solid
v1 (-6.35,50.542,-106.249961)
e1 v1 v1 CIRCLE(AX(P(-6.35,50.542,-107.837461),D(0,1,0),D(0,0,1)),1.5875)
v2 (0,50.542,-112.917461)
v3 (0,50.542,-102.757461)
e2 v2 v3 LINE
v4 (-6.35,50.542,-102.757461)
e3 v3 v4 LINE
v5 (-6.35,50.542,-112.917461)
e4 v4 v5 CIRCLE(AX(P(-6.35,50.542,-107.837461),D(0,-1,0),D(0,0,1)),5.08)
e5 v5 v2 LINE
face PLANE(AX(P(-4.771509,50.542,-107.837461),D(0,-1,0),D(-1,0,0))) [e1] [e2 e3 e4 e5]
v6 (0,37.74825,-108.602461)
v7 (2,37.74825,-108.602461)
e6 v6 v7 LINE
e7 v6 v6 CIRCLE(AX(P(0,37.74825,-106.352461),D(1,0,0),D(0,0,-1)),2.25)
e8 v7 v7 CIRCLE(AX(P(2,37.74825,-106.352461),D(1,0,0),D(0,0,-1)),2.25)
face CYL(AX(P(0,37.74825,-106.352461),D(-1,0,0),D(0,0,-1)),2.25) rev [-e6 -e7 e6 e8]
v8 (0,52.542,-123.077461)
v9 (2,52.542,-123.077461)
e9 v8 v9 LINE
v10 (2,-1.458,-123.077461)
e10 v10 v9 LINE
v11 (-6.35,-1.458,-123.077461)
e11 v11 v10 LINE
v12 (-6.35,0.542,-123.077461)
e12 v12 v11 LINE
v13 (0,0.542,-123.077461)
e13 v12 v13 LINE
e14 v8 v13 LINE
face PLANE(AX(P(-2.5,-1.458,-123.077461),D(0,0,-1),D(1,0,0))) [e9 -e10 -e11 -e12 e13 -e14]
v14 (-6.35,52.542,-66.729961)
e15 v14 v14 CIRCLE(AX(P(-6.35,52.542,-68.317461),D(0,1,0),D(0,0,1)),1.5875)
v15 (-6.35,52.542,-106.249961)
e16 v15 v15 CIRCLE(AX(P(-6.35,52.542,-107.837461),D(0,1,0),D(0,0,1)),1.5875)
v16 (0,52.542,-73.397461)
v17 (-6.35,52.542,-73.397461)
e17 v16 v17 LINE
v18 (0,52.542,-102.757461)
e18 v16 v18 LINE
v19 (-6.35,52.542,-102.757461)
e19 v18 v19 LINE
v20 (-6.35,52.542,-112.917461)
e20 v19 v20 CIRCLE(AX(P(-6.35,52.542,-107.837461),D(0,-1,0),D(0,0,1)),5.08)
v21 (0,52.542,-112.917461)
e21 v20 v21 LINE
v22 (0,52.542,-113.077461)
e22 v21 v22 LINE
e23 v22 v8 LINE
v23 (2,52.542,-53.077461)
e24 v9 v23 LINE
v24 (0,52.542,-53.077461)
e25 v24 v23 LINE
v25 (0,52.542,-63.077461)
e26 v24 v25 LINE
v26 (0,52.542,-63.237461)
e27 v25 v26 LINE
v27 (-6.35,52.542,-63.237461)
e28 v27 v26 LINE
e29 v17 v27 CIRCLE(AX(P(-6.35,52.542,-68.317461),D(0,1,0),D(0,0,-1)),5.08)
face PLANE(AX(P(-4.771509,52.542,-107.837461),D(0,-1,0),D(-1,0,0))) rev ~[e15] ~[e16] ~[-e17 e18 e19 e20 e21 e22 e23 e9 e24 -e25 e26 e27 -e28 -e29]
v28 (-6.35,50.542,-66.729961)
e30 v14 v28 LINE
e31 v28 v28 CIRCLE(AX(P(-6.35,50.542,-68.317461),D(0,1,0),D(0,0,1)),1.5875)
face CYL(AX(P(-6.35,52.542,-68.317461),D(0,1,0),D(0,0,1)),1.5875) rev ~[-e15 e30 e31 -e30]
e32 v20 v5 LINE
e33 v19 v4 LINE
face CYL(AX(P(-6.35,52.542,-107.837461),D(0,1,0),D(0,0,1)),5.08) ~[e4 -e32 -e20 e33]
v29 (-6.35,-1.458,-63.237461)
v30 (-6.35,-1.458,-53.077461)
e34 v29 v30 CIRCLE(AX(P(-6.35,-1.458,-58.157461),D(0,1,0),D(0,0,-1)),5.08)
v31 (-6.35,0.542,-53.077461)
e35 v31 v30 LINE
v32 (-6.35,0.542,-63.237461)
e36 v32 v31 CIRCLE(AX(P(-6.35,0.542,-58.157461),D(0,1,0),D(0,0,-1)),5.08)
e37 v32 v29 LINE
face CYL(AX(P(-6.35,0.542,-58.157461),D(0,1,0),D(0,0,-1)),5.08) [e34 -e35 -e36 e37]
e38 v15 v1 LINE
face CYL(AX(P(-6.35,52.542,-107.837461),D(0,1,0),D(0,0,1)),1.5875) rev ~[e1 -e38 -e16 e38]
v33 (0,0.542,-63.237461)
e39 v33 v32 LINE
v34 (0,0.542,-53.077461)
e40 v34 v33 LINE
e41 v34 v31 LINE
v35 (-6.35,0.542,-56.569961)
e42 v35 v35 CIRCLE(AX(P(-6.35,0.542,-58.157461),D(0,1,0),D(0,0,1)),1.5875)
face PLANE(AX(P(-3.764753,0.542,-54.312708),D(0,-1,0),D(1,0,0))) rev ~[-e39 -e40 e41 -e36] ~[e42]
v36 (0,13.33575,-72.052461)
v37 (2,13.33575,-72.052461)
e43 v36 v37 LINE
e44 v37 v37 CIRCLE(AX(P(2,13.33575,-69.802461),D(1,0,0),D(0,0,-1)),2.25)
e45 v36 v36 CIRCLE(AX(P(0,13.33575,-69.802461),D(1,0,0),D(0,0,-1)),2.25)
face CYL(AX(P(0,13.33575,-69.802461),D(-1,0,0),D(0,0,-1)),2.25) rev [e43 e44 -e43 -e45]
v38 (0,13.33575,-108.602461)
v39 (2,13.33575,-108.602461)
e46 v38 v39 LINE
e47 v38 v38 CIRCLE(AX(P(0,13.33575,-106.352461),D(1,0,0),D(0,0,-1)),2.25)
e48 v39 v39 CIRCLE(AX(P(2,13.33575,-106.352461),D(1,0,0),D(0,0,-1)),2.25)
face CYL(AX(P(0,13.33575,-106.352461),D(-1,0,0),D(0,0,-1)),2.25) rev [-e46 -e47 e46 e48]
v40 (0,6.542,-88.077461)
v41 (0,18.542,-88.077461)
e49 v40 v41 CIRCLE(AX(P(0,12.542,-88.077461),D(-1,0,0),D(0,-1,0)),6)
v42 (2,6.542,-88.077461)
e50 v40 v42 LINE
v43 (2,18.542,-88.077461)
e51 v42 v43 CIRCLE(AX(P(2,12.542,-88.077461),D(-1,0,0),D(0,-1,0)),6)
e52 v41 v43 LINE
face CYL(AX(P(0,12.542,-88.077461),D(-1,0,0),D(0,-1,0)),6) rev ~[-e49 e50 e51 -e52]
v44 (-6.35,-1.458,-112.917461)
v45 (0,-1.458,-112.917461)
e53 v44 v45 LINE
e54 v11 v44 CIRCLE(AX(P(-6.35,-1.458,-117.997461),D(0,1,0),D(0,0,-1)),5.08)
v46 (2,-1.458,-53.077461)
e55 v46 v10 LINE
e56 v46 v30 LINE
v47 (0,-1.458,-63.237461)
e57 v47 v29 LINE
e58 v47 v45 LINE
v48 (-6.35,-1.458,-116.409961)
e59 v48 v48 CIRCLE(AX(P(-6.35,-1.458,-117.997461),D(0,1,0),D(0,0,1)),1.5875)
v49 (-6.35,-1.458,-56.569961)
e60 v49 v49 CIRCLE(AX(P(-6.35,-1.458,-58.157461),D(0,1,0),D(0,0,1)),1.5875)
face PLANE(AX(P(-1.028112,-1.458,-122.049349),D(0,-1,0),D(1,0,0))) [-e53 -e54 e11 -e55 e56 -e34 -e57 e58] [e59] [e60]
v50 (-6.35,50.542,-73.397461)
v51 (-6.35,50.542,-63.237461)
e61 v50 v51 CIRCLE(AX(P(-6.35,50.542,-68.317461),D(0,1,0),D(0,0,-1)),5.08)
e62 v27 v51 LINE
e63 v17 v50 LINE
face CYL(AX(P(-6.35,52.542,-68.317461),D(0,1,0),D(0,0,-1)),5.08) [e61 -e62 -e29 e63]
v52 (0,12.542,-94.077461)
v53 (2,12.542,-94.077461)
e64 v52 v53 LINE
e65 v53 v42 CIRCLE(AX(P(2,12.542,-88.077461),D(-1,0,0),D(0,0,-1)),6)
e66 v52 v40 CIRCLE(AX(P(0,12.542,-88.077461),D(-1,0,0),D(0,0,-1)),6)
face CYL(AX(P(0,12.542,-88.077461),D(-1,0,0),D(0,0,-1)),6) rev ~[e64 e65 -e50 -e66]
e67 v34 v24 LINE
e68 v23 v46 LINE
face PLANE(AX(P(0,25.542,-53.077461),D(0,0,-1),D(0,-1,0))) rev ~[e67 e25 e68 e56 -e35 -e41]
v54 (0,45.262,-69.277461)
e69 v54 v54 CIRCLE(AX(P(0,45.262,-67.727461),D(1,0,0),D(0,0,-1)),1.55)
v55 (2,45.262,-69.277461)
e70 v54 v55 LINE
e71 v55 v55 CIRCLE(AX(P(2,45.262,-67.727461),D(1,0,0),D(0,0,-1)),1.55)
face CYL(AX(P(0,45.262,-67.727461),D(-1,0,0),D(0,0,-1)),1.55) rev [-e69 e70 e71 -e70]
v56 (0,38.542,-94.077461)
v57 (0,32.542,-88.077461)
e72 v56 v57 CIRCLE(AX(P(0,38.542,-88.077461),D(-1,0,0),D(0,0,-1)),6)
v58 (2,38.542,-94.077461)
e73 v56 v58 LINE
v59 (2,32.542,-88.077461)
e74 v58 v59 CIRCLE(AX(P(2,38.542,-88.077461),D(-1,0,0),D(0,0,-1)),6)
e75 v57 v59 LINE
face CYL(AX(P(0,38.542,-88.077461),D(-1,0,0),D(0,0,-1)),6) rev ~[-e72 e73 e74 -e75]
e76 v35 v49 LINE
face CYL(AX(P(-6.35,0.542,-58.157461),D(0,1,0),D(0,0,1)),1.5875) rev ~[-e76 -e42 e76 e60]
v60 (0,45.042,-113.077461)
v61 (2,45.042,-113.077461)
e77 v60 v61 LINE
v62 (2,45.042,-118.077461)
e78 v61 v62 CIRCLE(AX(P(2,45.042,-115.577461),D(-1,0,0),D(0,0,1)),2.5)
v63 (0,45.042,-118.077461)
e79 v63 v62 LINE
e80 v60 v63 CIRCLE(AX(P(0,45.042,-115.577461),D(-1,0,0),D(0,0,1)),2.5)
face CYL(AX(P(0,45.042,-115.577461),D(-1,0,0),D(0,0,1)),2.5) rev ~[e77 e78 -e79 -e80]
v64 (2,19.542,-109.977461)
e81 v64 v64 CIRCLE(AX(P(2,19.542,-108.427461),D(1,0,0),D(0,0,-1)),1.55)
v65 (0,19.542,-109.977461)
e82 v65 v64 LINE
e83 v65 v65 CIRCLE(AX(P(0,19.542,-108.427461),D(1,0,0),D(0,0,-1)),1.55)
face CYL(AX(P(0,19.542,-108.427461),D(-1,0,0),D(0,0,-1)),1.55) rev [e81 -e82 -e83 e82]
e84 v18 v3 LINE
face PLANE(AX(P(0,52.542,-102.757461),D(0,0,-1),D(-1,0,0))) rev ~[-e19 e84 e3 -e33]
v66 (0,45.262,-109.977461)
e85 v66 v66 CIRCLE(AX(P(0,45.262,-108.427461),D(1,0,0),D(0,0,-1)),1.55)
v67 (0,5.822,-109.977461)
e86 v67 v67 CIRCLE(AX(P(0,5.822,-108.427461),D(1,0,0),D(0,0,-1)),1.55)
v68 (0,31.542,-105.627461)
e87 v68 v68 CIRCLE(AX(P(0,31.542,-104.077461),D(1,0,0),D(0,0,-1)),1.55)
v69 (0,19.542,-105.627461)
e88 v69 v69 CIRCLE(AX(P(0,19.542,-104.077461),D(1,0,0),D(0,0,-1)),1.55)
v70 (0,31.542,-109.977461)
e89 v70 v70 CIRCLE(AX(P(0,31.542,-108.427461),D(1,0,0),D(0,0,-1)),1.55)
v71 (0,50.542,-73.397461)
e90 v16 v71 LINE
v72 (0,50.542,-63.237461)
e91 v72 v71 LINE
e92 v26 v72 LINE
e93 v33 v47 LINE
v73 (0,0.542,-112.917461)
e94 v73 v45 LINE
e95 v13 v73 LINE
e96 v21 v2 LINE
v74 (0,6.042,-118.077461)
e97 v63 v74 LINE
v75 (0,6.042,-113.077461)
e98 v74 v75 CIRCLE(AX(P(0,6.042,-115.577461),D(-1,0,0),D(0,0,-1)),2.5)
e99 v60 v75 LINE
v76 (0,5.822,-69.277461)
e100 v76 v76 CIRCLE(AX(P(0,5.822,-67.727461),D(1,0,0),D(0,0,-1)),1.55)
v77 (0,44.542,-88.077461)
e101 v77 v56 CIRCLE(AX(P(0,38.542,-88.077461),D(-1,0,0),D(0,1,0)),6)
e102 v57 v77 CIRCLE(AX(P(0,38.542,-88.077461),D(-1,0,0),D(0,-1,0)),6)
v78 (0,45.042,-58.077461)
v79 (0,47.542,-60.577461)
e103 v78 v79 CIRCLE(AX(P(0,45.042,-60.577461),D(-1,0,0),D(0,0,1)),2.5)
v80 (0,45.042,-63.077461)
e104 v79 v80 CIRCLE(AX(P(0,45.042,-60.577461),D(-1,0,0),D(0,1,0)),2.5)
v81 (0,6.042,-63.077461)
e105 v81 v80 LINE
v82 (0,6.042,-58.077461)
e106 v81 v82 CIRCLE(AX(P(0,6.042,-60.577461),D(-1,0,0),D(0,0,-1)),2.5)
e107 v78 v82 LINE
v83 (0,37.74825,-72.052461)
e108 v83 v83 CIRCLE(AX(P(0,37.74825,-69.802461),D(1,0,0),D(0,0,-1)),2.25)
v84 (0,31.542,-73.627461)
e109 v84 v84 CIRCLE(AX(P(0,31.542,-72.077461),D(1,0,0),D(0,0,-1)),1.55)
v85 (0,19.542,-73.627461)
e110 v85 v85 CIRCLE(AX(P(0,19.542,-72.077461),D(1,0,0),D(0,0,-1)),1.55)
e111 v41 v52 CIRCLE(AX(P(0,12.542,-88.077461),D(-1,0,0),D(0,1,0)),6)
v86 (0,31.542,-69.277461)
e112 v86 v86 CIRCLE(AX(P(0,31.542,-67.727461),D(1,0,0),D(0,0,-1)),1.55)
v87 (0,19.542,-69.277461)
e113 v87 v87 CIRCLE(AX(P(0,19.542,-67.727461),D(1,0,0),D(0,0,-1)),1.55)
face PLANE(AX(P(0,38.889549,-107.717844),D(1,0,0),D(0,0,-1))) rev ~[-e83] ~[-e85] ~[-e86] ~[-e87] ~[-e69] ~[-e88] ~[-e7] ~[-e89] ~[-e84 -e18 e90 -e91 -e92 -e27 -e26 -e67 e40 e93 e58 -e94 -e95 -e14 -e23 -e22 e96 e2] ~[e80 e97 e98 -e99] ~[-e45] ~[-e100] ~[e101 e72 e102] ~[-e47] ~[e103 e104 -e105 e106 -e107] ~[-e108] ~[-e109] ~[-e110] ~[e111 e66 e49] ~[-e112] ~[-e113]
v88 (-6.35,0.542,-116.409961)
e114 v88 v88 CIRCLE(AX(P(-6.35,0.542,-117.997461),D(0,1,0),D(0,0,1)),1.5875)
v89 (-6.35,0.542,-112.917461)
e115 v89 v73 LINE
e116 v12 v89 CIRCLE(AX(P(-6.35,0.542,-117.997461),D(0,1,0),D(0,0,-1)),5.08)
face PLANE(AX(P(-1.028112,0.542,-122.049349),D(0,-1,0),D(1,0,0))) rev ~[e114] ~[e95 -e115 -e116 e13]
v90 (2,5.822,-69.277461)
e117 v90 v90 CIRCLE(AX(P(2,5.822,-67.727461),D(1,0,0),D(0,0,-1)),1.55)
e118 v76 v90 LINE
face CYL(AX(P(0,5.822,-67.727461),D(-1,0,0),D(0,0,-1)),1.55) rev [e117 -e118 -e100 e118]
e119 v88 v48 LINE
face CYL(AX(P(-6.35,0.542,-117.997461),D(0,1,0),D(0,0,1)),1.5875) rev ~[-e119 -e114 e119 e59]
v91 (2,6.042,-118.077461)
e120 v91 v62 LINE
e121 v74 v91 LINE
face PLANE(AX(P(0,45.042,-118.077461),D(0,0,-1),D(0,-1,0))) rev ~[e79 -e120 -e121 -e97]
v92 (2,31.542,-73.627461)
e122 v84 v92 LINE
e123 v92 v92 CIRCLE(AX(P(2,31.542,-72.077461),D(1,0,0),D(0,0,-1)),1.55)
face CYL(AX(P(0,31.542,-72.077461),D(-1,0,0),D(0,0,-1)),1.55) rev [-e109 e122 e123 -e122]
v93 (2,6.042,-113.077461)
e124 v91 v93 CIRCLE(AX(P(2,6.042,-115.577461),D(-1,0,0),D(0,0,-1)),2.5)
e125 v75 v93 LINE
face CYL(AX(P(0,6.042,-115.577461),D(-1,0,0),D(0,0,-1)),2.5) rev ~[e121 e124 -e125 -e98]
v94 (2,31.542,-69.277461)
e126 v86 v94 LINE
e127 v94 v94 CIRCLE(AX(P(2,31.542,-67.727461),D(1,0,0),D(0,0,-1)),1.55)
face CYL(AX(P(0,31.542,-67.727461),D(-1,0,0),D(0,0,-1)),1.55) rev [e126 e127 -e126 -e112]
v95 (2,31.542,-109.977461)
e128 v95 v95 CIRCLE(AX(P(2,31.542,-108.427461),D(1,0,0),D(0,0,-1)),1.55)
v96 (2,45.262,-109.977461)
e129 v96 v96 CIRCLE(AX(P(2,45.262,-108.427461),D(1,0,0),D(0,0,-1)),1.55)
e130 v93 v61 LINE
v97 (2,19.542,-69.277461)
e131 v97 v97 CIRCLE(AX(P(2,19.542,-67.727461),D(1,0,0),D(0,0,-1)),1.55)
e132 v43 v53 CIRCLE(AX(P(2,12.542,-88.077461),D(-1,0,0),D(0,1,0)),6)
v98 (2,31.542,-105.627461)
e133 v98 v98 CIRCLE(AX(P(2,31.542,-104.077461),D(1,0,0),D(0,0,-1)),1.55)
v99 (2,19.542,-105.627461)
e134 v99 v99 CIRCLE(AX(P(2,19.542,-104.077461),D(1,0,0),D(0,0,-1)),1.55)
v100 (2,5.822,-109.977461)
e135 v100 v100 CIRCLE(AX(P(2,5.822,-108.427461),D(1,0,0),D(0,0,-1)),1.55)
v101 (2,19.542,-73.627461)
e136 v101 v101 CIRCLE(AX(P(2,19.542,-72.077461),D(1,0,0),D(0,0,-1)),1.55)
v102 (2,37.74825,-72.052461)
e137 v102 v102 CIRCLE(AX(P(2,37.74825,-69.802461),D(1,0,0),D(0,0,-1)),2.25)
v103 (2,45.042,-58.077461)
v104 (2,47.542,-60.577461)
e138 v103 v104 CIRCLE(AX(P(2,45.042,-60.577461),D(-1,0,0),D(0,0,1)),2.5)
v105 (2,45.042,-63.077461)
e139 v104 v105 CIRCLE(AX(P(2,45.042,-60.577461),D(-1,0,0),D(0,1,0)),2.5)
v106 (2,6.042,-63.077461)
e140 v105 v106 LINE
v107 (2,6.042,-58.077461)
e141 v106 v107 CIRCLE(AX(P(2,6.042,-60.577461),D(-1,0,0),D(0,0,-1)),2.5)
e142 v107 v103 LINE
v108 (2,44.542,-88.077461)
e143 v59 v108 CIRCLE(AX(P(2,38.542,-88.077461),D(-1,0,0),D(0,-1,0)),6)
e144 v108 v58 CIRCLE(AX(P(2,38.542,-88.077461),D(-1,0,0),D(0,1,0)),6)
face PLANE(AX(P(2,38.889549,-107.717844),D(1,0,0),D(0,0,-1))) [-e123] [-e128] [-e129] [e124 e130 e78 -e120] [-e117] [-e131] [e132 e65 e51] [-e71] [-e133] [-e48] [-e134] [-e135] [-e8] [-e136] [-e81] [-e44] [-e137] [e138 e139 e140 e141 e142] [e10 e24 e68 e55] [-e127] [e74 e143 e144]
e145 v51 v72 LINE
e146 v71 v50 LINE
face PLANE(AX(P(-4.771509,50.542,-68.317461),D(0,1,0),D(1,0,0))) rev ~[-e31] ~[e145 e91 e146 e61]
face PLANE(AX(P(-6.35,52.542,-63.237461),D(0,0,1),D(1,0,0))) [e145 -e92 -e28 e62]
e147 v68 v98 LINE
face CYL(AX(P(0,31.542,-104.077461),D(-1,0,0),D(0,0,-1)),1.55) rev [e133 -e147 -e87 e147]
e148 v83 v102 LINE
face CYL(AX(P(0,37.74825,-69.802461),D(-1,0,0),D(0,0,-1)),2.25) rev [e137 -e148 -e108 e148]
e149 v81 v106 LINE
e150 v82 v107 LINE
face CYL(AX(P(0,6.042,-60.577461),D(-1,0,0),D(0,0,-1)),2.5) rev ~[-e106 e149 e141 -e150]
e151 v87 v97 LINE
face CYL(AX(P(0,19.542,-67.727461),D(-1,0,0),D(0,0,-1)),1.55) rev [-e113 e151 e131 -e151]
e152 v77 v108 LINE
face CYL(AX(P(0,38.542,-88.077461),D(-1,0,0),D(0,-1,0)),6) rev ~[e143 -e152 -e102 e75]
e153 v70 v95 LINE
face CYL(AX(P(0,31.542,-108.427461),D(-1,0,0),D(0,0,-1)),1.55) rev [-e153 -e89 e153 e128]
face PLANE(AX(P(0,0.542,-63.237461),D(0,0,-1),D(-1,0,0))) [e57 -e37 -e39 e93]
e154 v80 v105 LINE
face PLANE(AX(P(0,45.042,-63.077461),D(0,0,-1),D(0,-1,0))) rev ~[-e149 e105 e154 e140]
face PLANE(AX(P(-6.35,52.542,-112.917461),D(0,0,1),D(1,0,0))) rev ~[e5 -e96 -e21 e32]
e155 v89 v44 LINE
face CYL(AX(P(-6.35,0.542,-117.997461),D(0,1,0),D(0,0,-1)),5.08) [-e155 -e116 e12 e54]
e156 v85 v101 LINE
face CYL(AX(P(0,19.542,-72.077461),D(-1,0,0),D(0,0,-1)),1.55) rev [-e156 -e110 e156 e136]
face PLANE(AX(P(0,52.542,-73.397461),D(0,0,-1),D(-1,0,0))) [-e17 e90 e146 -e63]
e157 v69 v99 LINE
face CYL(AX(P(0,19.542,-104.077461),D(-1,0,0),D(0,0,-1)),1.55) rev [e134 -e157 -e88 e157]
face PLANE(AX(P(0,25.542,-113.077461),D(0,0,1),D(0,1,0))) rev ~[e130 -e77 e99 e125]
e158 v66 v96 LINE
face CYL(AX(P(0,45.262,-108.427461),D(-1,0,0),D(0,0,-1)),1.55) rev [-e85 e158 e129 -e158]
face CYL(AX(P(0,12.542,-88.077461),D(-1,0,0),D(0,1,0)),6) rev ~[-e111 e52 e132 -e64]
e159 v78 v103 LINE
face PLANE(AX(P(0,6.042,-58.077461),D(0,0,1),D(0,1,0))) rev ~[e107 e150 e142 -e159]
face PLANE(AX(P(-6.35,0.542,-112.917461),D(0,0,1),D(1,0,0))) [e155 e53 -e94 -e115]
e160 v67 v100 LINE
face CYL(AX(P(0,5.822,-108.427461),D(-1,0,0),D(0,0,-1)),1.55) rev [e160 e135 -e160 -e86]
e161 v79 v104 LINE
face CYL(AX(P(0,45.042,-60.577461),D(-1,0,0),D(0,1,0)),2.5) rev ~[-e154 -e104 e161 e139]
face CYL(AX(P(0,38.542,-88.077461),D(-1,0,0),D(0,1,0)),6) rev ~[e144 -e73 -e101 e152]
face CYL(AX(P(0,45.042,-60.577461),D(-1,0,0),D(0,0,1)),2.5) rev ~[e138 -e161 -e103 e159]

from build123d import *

# Parameters (mm, degrees)
SKETCH1_R            = 1.5
SKETCH1_R_2          = 2.25
BOSS_EXTRUDE1_DEPTH  = 2
BOSS_EXTRUDE3_DEPTH  = 2
SKETCH3_W            = 7.521273404
SKETCH3_H            = 51.057198878
CUT_EXTRUDE1_DEPTH   = 10
SKETCH4_R            = 1.5875
BOSS_EXTRUDE4_DEPTH  = 2
CUT_EXTRUDE2_START   = -2
SKETCH5_R            = 1.55
SKETCH5_R_2          = 1.5
CUT_EXTRUDE2_DEPTH   = 2
SKETCH7_R            = 1.5875
BOSS_EXTRUDE6_DEPTH  = 2
SKETCH8_W            = 8.556305001
SKETCH8_H            = 51.856152178
CUT_EXTRUDE3_DEPTH   = 2
SKETCH9_R            = 1.5875
BOSS_EXTRUDE31_DEPTH = 2


with BuildPart() as part:
    # Sketch1 → Boss-Extrude1 (new body)
    # profile 1 of 5: a face of its own
    with BuildSketch(Plane(origin=(0, 0, 0), x_dir=(0, 0, -1), z_dir=(1, 0, 0))):
        with BuildLine():
            Line((63.077461316, 25.542000411), (88.077461316, 25.542000411))
            Line((88.077461316, 25.542000411), (88.077461316, 32.542000411))
            ThreePointArc((88.077461316, 32.542000411), (82.077461316, 38.542000411), (88.077461316, 44.542000411))
            Line((88.077461316, 44.542000411), (88.077461316, 52.542000411))
            Line((88.077461316, 52.542000411), (60.577461316, 52.542000411))
            Line((60.577461316, 52.542000411), (60.577461316, 47.542000411))
            ThreePointArc((60.577461316, 47.542000411), (62.345228269, 46.809767364), (63.077461316, 45.042000411))
            Line((63.077461316, 45.042000411), (63.077461316, 25.542000411))
        make_face()
        with Locations((72.077461316, 31.542000411)):
            Circle(SKETCH1_R, mode=Mode.SUBTRACT)
        with Locations((69.802461316, 37.748250471)):
            Circle(SKETCH1_R_2, mode=Mode.SUBTRACT)
    # profile 2 of 5: a face of its own
    with BuildSketch(Plane(origin=(0, 0, 0), x_dir=(0, 0, -1), z_dir=(1, 0, 0))):
        with BuildLine():
            Line((53.077461316, -1.457999589), (88.077461316, -1.457999589))
            Line((88.077461316, -1.457999589), (88.077461316, 6.542000411))
            ThreePointArc((88.077461316, 6.542000411), (82.077461316, 12.542000411), (88.077461316, 18.542000411))
            Line((88.077461316, 18.542000411), (88.077461316, 25.542000411))
            Line((88.077461316, 25.542000411), (63.077461316, 25.542000411))
            Line((63.077461316, 25.542000411), (63.077461316, 6.042000411))
            ThreePointArc((63.077461316, 6.042000411), (60.577461316, 3.542000411), (58.077461316, 6.042000411))
            Line((58.077461316, 6.042000411), (58.077461316, 25.542000411))
            Line((58.077461316, 25.542000411), (53.077461316, 25.542000411))
            Line((53.077461316, 25.542000411), (53.077461316, -1.457999589))
        make_face()
        with Locations((69.802461316, 13.335750351)):
            Circle(SKETCH1_R_2, mode=Mode.SUBTRACT)
        with Locations((72.077461316, 19.542000411)):
            Circle(SKETCH1_R, mode=Mode.SUBTRACT)
    # profile 3 of 5: a face of its own
    with BuildSketch(Plane(origin=(0, 0, 0), x_dir=(0, 0, -1), z_dir=(1, 0, 0))):
        with BuildLine():
            Line((53.077461316, 52.542000411), (53.077461316, 25.542000411))
            Line((53.077461316, 25.542000411), (58.077461316, 25.542000411))
            Line((58.077461316, 25.542000411), (58.077461316, 45.042000411))
            ThreePointArc((58.077461316, 45.042000411), (58.809694363, 46.809767364), (60.577461316, 47.542000411))
            Line((60.577461316, 47.542000411), (60.577461316, 52.542000411))
            Line((60.577461316, 52.542000411), (53.077461316, 52.542000411))
        make_face()
    # profile 4 of 5: a face of its own
    with BuildSketch(Plane(origin=(0, 0, 0), x_dir=(0, 0, -1), z_dir=(1, 0, 0))):
        with BuildLine():
            Line((88.077461316, 6.542000411), (88.077461316, -1.457999589))
            Line((88.077461316, -1.457999589), (123.077461316, -1.457999589))
            Line((123.077461316, -1.457999589), (123.077461316, 25.542000411))
            Line((123.077461316, 25.542000411), (118.077461316, 25.542000411))
            Line((118.077461316, 25.542000411), (118.077461316, 6.042000411))
            ThreePointArc((118.077461316, 6.042000411), (115.577461316, 3.542000411), (113.077461316, 6.042000411))
            Line((113.077461316, 6.042000411), (113.077461316, 25.542000411))
            Line((113.077461316, 25.542000411), (88.077461316, 25.542000411))
            Line((88.077461316, 25.542000411), (88.077461316, 18.542000411))
            ThreePointArc((88.077461316, 18.542000411), (92.320102003, 16.784641098), (94.077461316, 12.542000411))
            ThreePointArc((94.077461316, 12.542000411), (92.320102003, 8.299359724), (88.077461316, 6.542000411))
        make_face()
        with Locations((106.352461316, 13.335750351)):
            Circle(SKETCH1_R_2, mode=Mode.SUBTRACT)
        with Locations((104.077461316, 19.542000411)):
            Circle(SKETCH1_R, mode=Mode.SUBTRACT)
    # profile 5 of 5: a face of its own
    with BuildSketch(Plane(origin=(0, 0, 0), x_dir=(0, 0, -1), z_dir=(1, 0, 0))):
        with BuildLine():
            Line((118.077461316, 25.542000411), (123.077461316, 25.542000411))
            Line((123.077461316, 25.542000411), (123.077461316, 52.542000411))
            Line((123.077461316, 52.542000411), (88.077461316, 52.542000411))
            Line((88.077461316, 52.542000411), (88.077461316, 44.542000411))
            ThreePointArc((88.077461316, 44.542000411), (92.320102003, 42.784641098), (94.077461316, 38.542000411))
            ThreePointArc((94.077461316, 38.542000411), (92.320102003, 34.299359724), (88.077461316, 32.542000411))
            Line((88.077461316, 32.542000411), (88.077461316, 25.542000411))
            Line((88.077461316, 25.542000411), (113.077461316, 25.542000411))
            Line((113.077461316, 25.542000411), (113.077461316, 45.042000411))
            ThreePointArc((113.077461316, 45.042000411), (115.577461316, 47.542000411), (118.077461316, 45.042000411))
            Line((118.077461316, 45.042000411), (118.077461316, 25.542000411))
        make_face()
        with Locations((104.077461316, 31.542000411)):
            Circle(SKETCH1_R, mode=Mode.SUBTRACT)
        with Locations((106.352461316, 37.748250471)):
            Circle(SKETCH1_R_2, mode=Mode.SUBTRACT)
    extrude(amount=BOSS_EXTRUDE1_DEPTH)

    # Sketch2 → Boss-Extrude3 (add)
    with BuildSketch(Plane.XZ.offset(1.457999589)):
        with BuildLine():
            Line((-2.5, -123.077461316), (0, -123.077461316))
            Line((0, -123.077461316), (0, -120.577461316))
            Line((0, -120.577461316), (-0.9125, -120.577461316))
            ThreePointArc((-0.9125, -120.577461316), (-1.377467985, -121.699993331), (-2.5, -122.164961316))
            Line((-2.5, -122.164961316), (-2.5, -123.077461316))
        make_face()
        with BuildLine():
            ThreePointArc((-5, -120.577461316), (-4.267766953, -122.345228269), (-2.5, -123.077461316))
            Line((-2.5, -123.077461316), (-2.5, -122.164961316))
            ThreePointArc((-2.5, -122.164961316), (-3.622532015, -121.699993331), (-4.0875, -120.577461316))
            Line((-4.0875, -120.577461316), (-5, -120.577461316))
        make_face()
        with BuildLine():
            ThreePointArc((-2.5, -118.077461316), (-4.267766953, -118.809694363), (-5, -120.577461316))
            Line((-5, -120.577461316), (-4.0875, -120.577461316))
            ThreePointArc((-4.0875, -120.577461316), (-3.622532015, -119.454929301), (-2.5, -118.989961316))
            Line((-2.5, -118.989961316), (-2.5, -118.077461316))
        make_face()
        with BuildLine():
            Line((-0.9125, -120.577461316), (0, -120.577461316))
            Line((0, -120.577461316), (0, -118.077461316))
            Line((0, -118.077461316), (-2.5, -118.077461316))
            Line((-2.5, -118.077461316), (-2.5, -118.989961316))
            ThreePointArc((-2.5, -118.989961316), (-1.377467985, -119.454929301), (-0.9125, -120.577461316))
        make_face()
        with BuildLine():
            Line((0, -113.077461316), (0, -110.577461316))
            Line((0, -110.577461316), (-0.9125, -110.577461316))
            ThreePointArc((-0.9125, -110.577461316), (-1.377467985, -111.699993331), (-2.5, -112.164961316))
            Line((-2.5, -112.164961316), (-2.5, -113.077461316))
            Line((-2.5, -113.077461316), (0, -113.077461316))
        make_face()
        with BuildLine():
            Line((-2.5, -108.989961316), (-2.5, -108.077461316))
            ThreePointArc((-2.5, -108.077461316), (-4.267766953, -108.809694363), (-5, -110.577461316))
            Line((-5, -110.577461316), (-4.0875, -110.577461316))
            ThreePointArc((-4.0875, -110.577461316), (-3.622532015, -109.454929301), (-2.5, -108.989961316))
        make_face()
        with BuildLine():
            Line((-4.0875, -110.577461316), (-5, -110.577461316))
            ThreePointArc((-5, -110.577461316), (-4.267766953, -112.345228269), (-2.5, -113.077461316))
            Line((-2.5, -113.077461316), (-2.5, -112.164961316))
            ThreePointArc((-2.5, -112.164961316), (-3.622532015, -111.699993331), (-4.0875, -110.577461316))
        make_face()
        with BuildLine():
            Line((0, -110.577461316), (0, -108.077461316))
            Line((0, -108.077461316), (-2.5, -108.077461316))
            Line((-2.5, -108.077461316), (-2.5, -108.989961316))
            ThreePointArc((-2.5, -108.989961316), (-1.377467985, -109.454929301), (-0.9125, -110.577461316))
            Line((-0.9125, -110.577461316), (0, -110.577461316))
        make_face()
        with BuildLine():
            Line((-2.5, -68.077461316), (0, -68.077461316))
            Line((0, -68.077461316), (0, -65.577461316))
            Line((0, -65.577461316), (-0.9125, -65.577461316))
            ThreePointArc((-0.9125, -65.577461316), (-1.377467985, -66.699993331), (-2.5, -67.164961316))
            Line((-2.5, -67.164961316), (-2.5, -68.077461316))
        make_face()
        with BuildLine():
            Line((-0.9125, -65.577461316), (0, -65.577461316))
            Line((0, -65.577461316), (0, -63.077461316))
            Line((0, -63.077461316), (-2.5, -63.077461316))
            Line((-2.5, -63.077461316), (-2.5, -63.989961316))
            ThreePointArc((-2.5, -63.989961316), (-1.377467985, -64.454929301), (-0.9125, -65.577461316))
        make_face()
        with BuildLine():
            ThreePointArc((-5, -65.577461316), (-4.267766953, -67.345228269), (-2.5, -68.077461316))
            Line((-2.5, -68.077461316), (-2.5, -67.164961316))
            ThreePointArc((-2.5, -67.164961316), (-3.622532015, -66.699993331), (-4.0875, -65.577461316))
            Line((-4.0875, -65.577461316), (-5, -65.577461316))
        make_face()
        with BuildLine():
            ThreePointArc((-2.5, -63.077461316), (-4.267766953, -63.809694363), (-5, -65.577461316))
            Line((-5, -65.577461316), (-4.0875, -65.577461316))
            ThreePointArc((-4.0875, -65.577461316), (-3.622532015, -64.454929301), (-2.5, -63.989961316))
            Line((-2.5, -63.989961316), (-2.5, -63.077461316))
        make_face()
        with BuildLine():
            Line((-2.5, -53.989961316), (-2.5, -53.077461316))
            ThreePointArc((-2.5, -53.077461316), (-4.267766953, -53.809694363), (-5, -55.577461316))
            Line((-5, -55.577461316), (-4.0875, -55.577461316))
            ThreePointArc((-4.0875, -55.577461316), (-3.622532015, -54.454929301), (-2.5, -53.989961316))
        make_face()
        with BuildLine():
            Line((-4.0875, -55.577461316), (-5, -55.577461316))
            ThreePointArc((-5, -55.577461316), (-4.267766953, -57.345228269), (-2.5, -58.077461316))
            Line((-2.5, -58.077461316), (-2.5, -57.164961316))
            ThreePointArc((-2.5, -57.164961316), (-3.622532015, -56.699993331), (-4.0875, -55.577461316))
        make_face()
        with BuildLine():
            Line((0, -58.077461316), (0, -55.577461316))
            Line((0, -55.577461316), (-0.9125, -55.577461316))
            ThreePointArc((-0.9125, -55.577461316), (-1.377467985, -56.699993331), (-2.5, -57.164961316))
            Line((-2.5, -57.164961316), (-2.5, -58.077461316))
            Line((-2.5, -58.077461316), (0, -58.077461316))
        make_face()
        with BuildLine():
            Line((0, -55.577461316), (0, -53.077461316))
            Line((0, -53.077461316), (-2.5, -53.077461316))
            Line((-2.5, -53.077461316), (-2.5, -53.989961316))
            ThreePointArc((-2.5, -53.989961316), (-1.377467985, -54.454929301), (-0.9125, -55.577461316))
            Line((-0.9125, -55.577461316), (0, -55.577461316))
        make_face()
    extrude(amount=-BOSS_EXTRUDE3_DEPTH)

    # Sketch3 → Cut-Extrude1 (cut)
    with BuildSketch(Plane(origin=(0, 0.542000411, 0), x_dir=(1, 0, 0), z_dir=(0, 1, 0))):
        with Locations((-3.760636702, 87.548861877)):
            Rectangle(SKETCH3_W, SKETCH3_H)
    extrude(amount=-CUT_EXTRUDE1_DEPTH, mode=Mode.SUBTRACT)

    # Sketch4 → Boss-Extrude4 (add)
    # profile 1 of 2: a face of its own
    with BuildSketch(Plane(origin=(0, 52.542000411, 0), x_dir=(1, 0, 0), z_dir=(0, 1, 0))):
        with BuildLine():
            Line((-2.5, 108.077461316), (0, 108.077461316))
            Line((0, 108.077461316), (0, 113.077461316))
            Line((0, 113.077461316), (-2.5, 113.077461316))
            ThreePointArc((-2.5, 113.077461316), (-5, 110.577461316), (-2.5, 108.077461316))
        make_face()
        with Locations(Location((-2.5, 110.577461316, 0), (0, 0, 270))):
            Circle(SKETCH4_R, mode=Mode.SUBTRACT)
    # profile 2 of 2: a face of its own
    with BuildSketch(Plane(origin=(0, 52.542000411, 0), x_dir=(1, 0, 0), z_dir=(0, 1, 0))):
        with BuildLine():
            Line((0, 63.077461316), (0, 68.077461316))
            Line((0, 68.077461316), (-2.5, 68.077461316))
            ThreePointArc((-2.5, 68.077461316), (-5, 65.577461316), (-2.5, 63.077461316))
            Line((-2.5, 63.077461316), (0, 63.077461316))
        make_face()
        with Locations(Location((-2.5, 65.577461316, 0), (0, 0, 270))):
            Circle(SKETCH4_R, mode=Mode.SUBTRACT)
    extrude(amount=-BOSS_EXTRUDE4_DEPTH)

    # Sketch5 → Cut-Extrude2 (cut)
    # profile 1 of 12: a face of its own
    with BuildSketch(Plane(origin=(2, 0, 0), x_dir=(0, 0, -1), z_dir=(1, 0, 0)).offset(CUT_EXTRUDE2_START)):
        with Locations((108.427461316, 19.542000411)):
            Circle(SKETCH5_R)
    # profile 2 of 12: a face of its own
    with BuildSketch(Plane(origin=(2, 0, 0), x_dir=(0, 0, -1), z_dir=(1, 0, 0)).offset(CUT_EXTRUDE2_START)):
        with Locations((67.727461316, 19.542000411)):
            Circle(SKETCH5_R)
    # profile 3 of 12: a face of its own
    with BuildSketch(Plane(origin=(2, 0, 0), x_dir=(0, 0, -1), z_dir=(1, 0, 0)).offset(CUT_EXTRUDE2_START)):
        with Locations((72.077461316, 19.542000411)):
            Circle(SKETCH5_R)
        with Locations((72.077461316, 19.542000411)):
            Circle(SKETCH5_R_2, mode=Mode.SUBTRACT)
    # profile 4 of 12: a face of its own
    with BuildSketch(Plane(origin=(2, 0, 0), x_dir=(0, 0, -1), z_dir=(1, 0, 0)).offset(CUT_EXTRUDE2_START)):
        with Locations((67.727461316, 31.542000411)):
            Circle(SKETCH5_R)
    # profile 5 of 12: a face of its own
    with BuildSketch(Plane(origin=(2, 0, 0), x_dir=(0, 0, -1), z_dir=(1, 0, 0)).offset(CUT_EXTRUDE2_START)):
        with Locations((72.077461316, 31.542000411)):
            Circle(SKETCH5_R)
        with Locations((72.077461316, 31.542000411)):
            Circle(SKETCH5_R_2, mode=Mode.SUBTRACT)
    # profile 6 of 12: a face of its own
    with BuildSketch(Plane(origin=(2, 0, 0), x_dir=(0, 0, -1), z_dir=(1, 0, 0)).offset(CUT_EXTRUDE2_START)):
        with Locations((108.427461316, 31.542000411)):
            Circle(SKETCH5_R)
    # profile 7 of 12: a face of its own
    with BuildSketch(Plane(origin=(2, 0, 0), x_dir=(0, 0, -1), z_dir=(1, 0, 0)).offset(CUT_EXTRUDE2_START)):
        with Locations((67.727461316, 5.822000411)):
            Circle(SKETCH5_R)
    # profile 8 of 12: a face of its own
    with BuildSketch(Plane(origin=(2, 0, 0), x_dir=(0, 0, -1), z_dir=(1, 0, 0)).offset(CUT_EXTRUDE2_START)):
        with Locations((108.427461316, 5.822000411)):
            Circle(SKETCH5_R)
    # profile 9 of 12: a face of its own
    with BuildSketch(Plane(origin=(2, 0, 0), x_dir=(0, 0, -1), z_dir=(1, 0, 0)).offset(CUT_EXTRUDE2_START)):
        with Locations((104.077461316, 19.542000411)):
            Circle(SKETCH5_R)
        with Locations((104.077461316, 19.542000411)):
            Circle(SKETCH5_R_2, mode=Mode.SUBTRACT)
    # profile 10 of 12: a face of its own
    with BuildSketch(Plane(origin=(2, 0, 0), x_dir=(0, 0, -1), z_dir=(1, 0, 0)).offset(CUT_EXTRUDE2_START)):
        with Locations((104.077461316, 31.542000411)):
            Circle(SKETCH5_R)
        with Locations((104.077461316, 31.542000411)):
            Circle(SKETCH5_R_2, mode=Mode.SUBTRACT)
    # profile 11 of 12: a face of its own
    with BuildSketch(Plane(origin=(2, 0, 0), x_dir=(0, 0, -1), z_dir=(1, 0, 0)).offset(CUT_EXTRUDE2_START)):
        with Locations((108.427461316, 45.262000411)):
            Circle(SKETCH5_R)
    # profile 12 of 12: a face of its own
    with BuildSketch(Plane(origin=(2, 0, 0), x_dir=(0, 0, -1), z_dir=(1, 0, 0)).offset(CUT_EXTRUDE2_START)):
        with Locations((67.727461316, 45.262000411)):
            Circle(SKETCH5_R)
    extrude(amount=CUT_EXTRUDE2_DEPTH, mode=Mode.SUBTRACT)

    # Sketch7 → Boss-Extrude6 (add)
    # profile 1 of 2: a face of its own
    with BuildSketch(Plane(origin=(0, 0.542000411, 0), x_dir=(1, 0, 0), z_dir=(0, 1, 0))):
        with BuildLine():
            Line((0, 53.077461316), (0, 63.237461316))
            Line((0, 63.237461316), (-6.35, 63.237461316))
            ThreePointArc((-6.35, 63.237461316), (-11.43, 58.157461316), (-6.35, 53.077461316))
            Line((-6.35, 53.077461316), (0, 53.077461316))
        make_face()
        with Locations(Location((-6.35, 58.157461316, 0), (0, 0, 270))):
            Circle(SKETCH7_R, mode=Mode.SUBTRACT)
    # profile 2 of 2: a face of its own
    with BuildSketch(Plane(origin=(0, 0.542000411, 0), x_dir=(1, 0, 0), z_dir=(0, 1, 0))):
        with BuildLine():
            Line((0, 123.077461316), (-6.35, 123.077461316))
            ThreePointArc((-6.35, 123.077461316), (-11.43, 117.997461316), (-6.35, 112.917461316))
            Line((-6.35, 112.917461316), (0, 112.917461316))
            Line((0, 112.917461316), (0, 123.077461316))
        make_face()
        with Locations(Location((-6.35, 117.997461316, 0), (0, 0, 270))):
            Circle(SKETCH7_R, mode=Mode.SUBTRACT)
    extrude(amount=-BOSS_EXTRUDE6_DEPTH)

    # Sketch8 → Cut-Extrude3 (cut)
    with BuildSketch(Plane(origin=(0, 52.542000411, 0), x_dir=(1, 0, 0), z_dir=(0, 1, 0))):
        with Locations((-4.278152501, 87.149385227)):
            Rectangle(SKETCH8_W, SKETCH8_H)
    extrude(amount=-CUT_EXTRUDE3_DEPTH, mode=Mode.SUBTRACT)

    # Sketch9 → Boss-Extrude31 (add)
    # profile 1 of 2: a face of its own
    with BuildSketch(Plane(origin=(0, 52.542000411, 0), x_dir=(1, 0, 0), z_dir=(0, 1, 0))):
        with BuildLine():
            Line((0, 112.917461316), (0, 102.757461316))
            Line((0, 102.757461316), (-6.35, 102.757461316))
            ThreePointArc((-6.35, 102.757461316), (-11.43, 107.837461316), (-6.35, 112.917461316))
            Line((-6.35, 112.917461316), (0, 112.917461316))
        make_face()
        with Locations(Location((-6.35, 107.837461316, 0), (0, 0, 270))):
            Circle(SKETCH9_R, mode=Mode.SUBTRACT)
    # profile 2 of 2: a face of its own
    with BuildSketch(Plane(origin=(0, 52.542000411, 0), x_dir=(1, 0, 0), z_dir=(0, 1, 0))):
        with BuildLine():
            Line((0, 73.397461316), (-6.35, 73.397461316))
            ThreePointArc((-6.35, 73.397461316), (-11.43, 68.317461316), (-6.35, 63.237461316))
            Line((-6.35, 63.237461316), (0, 63.237461316))
            Line((0, 63.237461316), (0, 73.397461316))
        make_face()
        with Locations(Location((-6.35, 68.317461316, 0), (0, 0, 270))):
            Circle(SKETCH9_R, mode=Mode.SUBTRACT)
    extrude(amount=-BOSS_EXTRUDE31_DEPTH)


solid = part.part
